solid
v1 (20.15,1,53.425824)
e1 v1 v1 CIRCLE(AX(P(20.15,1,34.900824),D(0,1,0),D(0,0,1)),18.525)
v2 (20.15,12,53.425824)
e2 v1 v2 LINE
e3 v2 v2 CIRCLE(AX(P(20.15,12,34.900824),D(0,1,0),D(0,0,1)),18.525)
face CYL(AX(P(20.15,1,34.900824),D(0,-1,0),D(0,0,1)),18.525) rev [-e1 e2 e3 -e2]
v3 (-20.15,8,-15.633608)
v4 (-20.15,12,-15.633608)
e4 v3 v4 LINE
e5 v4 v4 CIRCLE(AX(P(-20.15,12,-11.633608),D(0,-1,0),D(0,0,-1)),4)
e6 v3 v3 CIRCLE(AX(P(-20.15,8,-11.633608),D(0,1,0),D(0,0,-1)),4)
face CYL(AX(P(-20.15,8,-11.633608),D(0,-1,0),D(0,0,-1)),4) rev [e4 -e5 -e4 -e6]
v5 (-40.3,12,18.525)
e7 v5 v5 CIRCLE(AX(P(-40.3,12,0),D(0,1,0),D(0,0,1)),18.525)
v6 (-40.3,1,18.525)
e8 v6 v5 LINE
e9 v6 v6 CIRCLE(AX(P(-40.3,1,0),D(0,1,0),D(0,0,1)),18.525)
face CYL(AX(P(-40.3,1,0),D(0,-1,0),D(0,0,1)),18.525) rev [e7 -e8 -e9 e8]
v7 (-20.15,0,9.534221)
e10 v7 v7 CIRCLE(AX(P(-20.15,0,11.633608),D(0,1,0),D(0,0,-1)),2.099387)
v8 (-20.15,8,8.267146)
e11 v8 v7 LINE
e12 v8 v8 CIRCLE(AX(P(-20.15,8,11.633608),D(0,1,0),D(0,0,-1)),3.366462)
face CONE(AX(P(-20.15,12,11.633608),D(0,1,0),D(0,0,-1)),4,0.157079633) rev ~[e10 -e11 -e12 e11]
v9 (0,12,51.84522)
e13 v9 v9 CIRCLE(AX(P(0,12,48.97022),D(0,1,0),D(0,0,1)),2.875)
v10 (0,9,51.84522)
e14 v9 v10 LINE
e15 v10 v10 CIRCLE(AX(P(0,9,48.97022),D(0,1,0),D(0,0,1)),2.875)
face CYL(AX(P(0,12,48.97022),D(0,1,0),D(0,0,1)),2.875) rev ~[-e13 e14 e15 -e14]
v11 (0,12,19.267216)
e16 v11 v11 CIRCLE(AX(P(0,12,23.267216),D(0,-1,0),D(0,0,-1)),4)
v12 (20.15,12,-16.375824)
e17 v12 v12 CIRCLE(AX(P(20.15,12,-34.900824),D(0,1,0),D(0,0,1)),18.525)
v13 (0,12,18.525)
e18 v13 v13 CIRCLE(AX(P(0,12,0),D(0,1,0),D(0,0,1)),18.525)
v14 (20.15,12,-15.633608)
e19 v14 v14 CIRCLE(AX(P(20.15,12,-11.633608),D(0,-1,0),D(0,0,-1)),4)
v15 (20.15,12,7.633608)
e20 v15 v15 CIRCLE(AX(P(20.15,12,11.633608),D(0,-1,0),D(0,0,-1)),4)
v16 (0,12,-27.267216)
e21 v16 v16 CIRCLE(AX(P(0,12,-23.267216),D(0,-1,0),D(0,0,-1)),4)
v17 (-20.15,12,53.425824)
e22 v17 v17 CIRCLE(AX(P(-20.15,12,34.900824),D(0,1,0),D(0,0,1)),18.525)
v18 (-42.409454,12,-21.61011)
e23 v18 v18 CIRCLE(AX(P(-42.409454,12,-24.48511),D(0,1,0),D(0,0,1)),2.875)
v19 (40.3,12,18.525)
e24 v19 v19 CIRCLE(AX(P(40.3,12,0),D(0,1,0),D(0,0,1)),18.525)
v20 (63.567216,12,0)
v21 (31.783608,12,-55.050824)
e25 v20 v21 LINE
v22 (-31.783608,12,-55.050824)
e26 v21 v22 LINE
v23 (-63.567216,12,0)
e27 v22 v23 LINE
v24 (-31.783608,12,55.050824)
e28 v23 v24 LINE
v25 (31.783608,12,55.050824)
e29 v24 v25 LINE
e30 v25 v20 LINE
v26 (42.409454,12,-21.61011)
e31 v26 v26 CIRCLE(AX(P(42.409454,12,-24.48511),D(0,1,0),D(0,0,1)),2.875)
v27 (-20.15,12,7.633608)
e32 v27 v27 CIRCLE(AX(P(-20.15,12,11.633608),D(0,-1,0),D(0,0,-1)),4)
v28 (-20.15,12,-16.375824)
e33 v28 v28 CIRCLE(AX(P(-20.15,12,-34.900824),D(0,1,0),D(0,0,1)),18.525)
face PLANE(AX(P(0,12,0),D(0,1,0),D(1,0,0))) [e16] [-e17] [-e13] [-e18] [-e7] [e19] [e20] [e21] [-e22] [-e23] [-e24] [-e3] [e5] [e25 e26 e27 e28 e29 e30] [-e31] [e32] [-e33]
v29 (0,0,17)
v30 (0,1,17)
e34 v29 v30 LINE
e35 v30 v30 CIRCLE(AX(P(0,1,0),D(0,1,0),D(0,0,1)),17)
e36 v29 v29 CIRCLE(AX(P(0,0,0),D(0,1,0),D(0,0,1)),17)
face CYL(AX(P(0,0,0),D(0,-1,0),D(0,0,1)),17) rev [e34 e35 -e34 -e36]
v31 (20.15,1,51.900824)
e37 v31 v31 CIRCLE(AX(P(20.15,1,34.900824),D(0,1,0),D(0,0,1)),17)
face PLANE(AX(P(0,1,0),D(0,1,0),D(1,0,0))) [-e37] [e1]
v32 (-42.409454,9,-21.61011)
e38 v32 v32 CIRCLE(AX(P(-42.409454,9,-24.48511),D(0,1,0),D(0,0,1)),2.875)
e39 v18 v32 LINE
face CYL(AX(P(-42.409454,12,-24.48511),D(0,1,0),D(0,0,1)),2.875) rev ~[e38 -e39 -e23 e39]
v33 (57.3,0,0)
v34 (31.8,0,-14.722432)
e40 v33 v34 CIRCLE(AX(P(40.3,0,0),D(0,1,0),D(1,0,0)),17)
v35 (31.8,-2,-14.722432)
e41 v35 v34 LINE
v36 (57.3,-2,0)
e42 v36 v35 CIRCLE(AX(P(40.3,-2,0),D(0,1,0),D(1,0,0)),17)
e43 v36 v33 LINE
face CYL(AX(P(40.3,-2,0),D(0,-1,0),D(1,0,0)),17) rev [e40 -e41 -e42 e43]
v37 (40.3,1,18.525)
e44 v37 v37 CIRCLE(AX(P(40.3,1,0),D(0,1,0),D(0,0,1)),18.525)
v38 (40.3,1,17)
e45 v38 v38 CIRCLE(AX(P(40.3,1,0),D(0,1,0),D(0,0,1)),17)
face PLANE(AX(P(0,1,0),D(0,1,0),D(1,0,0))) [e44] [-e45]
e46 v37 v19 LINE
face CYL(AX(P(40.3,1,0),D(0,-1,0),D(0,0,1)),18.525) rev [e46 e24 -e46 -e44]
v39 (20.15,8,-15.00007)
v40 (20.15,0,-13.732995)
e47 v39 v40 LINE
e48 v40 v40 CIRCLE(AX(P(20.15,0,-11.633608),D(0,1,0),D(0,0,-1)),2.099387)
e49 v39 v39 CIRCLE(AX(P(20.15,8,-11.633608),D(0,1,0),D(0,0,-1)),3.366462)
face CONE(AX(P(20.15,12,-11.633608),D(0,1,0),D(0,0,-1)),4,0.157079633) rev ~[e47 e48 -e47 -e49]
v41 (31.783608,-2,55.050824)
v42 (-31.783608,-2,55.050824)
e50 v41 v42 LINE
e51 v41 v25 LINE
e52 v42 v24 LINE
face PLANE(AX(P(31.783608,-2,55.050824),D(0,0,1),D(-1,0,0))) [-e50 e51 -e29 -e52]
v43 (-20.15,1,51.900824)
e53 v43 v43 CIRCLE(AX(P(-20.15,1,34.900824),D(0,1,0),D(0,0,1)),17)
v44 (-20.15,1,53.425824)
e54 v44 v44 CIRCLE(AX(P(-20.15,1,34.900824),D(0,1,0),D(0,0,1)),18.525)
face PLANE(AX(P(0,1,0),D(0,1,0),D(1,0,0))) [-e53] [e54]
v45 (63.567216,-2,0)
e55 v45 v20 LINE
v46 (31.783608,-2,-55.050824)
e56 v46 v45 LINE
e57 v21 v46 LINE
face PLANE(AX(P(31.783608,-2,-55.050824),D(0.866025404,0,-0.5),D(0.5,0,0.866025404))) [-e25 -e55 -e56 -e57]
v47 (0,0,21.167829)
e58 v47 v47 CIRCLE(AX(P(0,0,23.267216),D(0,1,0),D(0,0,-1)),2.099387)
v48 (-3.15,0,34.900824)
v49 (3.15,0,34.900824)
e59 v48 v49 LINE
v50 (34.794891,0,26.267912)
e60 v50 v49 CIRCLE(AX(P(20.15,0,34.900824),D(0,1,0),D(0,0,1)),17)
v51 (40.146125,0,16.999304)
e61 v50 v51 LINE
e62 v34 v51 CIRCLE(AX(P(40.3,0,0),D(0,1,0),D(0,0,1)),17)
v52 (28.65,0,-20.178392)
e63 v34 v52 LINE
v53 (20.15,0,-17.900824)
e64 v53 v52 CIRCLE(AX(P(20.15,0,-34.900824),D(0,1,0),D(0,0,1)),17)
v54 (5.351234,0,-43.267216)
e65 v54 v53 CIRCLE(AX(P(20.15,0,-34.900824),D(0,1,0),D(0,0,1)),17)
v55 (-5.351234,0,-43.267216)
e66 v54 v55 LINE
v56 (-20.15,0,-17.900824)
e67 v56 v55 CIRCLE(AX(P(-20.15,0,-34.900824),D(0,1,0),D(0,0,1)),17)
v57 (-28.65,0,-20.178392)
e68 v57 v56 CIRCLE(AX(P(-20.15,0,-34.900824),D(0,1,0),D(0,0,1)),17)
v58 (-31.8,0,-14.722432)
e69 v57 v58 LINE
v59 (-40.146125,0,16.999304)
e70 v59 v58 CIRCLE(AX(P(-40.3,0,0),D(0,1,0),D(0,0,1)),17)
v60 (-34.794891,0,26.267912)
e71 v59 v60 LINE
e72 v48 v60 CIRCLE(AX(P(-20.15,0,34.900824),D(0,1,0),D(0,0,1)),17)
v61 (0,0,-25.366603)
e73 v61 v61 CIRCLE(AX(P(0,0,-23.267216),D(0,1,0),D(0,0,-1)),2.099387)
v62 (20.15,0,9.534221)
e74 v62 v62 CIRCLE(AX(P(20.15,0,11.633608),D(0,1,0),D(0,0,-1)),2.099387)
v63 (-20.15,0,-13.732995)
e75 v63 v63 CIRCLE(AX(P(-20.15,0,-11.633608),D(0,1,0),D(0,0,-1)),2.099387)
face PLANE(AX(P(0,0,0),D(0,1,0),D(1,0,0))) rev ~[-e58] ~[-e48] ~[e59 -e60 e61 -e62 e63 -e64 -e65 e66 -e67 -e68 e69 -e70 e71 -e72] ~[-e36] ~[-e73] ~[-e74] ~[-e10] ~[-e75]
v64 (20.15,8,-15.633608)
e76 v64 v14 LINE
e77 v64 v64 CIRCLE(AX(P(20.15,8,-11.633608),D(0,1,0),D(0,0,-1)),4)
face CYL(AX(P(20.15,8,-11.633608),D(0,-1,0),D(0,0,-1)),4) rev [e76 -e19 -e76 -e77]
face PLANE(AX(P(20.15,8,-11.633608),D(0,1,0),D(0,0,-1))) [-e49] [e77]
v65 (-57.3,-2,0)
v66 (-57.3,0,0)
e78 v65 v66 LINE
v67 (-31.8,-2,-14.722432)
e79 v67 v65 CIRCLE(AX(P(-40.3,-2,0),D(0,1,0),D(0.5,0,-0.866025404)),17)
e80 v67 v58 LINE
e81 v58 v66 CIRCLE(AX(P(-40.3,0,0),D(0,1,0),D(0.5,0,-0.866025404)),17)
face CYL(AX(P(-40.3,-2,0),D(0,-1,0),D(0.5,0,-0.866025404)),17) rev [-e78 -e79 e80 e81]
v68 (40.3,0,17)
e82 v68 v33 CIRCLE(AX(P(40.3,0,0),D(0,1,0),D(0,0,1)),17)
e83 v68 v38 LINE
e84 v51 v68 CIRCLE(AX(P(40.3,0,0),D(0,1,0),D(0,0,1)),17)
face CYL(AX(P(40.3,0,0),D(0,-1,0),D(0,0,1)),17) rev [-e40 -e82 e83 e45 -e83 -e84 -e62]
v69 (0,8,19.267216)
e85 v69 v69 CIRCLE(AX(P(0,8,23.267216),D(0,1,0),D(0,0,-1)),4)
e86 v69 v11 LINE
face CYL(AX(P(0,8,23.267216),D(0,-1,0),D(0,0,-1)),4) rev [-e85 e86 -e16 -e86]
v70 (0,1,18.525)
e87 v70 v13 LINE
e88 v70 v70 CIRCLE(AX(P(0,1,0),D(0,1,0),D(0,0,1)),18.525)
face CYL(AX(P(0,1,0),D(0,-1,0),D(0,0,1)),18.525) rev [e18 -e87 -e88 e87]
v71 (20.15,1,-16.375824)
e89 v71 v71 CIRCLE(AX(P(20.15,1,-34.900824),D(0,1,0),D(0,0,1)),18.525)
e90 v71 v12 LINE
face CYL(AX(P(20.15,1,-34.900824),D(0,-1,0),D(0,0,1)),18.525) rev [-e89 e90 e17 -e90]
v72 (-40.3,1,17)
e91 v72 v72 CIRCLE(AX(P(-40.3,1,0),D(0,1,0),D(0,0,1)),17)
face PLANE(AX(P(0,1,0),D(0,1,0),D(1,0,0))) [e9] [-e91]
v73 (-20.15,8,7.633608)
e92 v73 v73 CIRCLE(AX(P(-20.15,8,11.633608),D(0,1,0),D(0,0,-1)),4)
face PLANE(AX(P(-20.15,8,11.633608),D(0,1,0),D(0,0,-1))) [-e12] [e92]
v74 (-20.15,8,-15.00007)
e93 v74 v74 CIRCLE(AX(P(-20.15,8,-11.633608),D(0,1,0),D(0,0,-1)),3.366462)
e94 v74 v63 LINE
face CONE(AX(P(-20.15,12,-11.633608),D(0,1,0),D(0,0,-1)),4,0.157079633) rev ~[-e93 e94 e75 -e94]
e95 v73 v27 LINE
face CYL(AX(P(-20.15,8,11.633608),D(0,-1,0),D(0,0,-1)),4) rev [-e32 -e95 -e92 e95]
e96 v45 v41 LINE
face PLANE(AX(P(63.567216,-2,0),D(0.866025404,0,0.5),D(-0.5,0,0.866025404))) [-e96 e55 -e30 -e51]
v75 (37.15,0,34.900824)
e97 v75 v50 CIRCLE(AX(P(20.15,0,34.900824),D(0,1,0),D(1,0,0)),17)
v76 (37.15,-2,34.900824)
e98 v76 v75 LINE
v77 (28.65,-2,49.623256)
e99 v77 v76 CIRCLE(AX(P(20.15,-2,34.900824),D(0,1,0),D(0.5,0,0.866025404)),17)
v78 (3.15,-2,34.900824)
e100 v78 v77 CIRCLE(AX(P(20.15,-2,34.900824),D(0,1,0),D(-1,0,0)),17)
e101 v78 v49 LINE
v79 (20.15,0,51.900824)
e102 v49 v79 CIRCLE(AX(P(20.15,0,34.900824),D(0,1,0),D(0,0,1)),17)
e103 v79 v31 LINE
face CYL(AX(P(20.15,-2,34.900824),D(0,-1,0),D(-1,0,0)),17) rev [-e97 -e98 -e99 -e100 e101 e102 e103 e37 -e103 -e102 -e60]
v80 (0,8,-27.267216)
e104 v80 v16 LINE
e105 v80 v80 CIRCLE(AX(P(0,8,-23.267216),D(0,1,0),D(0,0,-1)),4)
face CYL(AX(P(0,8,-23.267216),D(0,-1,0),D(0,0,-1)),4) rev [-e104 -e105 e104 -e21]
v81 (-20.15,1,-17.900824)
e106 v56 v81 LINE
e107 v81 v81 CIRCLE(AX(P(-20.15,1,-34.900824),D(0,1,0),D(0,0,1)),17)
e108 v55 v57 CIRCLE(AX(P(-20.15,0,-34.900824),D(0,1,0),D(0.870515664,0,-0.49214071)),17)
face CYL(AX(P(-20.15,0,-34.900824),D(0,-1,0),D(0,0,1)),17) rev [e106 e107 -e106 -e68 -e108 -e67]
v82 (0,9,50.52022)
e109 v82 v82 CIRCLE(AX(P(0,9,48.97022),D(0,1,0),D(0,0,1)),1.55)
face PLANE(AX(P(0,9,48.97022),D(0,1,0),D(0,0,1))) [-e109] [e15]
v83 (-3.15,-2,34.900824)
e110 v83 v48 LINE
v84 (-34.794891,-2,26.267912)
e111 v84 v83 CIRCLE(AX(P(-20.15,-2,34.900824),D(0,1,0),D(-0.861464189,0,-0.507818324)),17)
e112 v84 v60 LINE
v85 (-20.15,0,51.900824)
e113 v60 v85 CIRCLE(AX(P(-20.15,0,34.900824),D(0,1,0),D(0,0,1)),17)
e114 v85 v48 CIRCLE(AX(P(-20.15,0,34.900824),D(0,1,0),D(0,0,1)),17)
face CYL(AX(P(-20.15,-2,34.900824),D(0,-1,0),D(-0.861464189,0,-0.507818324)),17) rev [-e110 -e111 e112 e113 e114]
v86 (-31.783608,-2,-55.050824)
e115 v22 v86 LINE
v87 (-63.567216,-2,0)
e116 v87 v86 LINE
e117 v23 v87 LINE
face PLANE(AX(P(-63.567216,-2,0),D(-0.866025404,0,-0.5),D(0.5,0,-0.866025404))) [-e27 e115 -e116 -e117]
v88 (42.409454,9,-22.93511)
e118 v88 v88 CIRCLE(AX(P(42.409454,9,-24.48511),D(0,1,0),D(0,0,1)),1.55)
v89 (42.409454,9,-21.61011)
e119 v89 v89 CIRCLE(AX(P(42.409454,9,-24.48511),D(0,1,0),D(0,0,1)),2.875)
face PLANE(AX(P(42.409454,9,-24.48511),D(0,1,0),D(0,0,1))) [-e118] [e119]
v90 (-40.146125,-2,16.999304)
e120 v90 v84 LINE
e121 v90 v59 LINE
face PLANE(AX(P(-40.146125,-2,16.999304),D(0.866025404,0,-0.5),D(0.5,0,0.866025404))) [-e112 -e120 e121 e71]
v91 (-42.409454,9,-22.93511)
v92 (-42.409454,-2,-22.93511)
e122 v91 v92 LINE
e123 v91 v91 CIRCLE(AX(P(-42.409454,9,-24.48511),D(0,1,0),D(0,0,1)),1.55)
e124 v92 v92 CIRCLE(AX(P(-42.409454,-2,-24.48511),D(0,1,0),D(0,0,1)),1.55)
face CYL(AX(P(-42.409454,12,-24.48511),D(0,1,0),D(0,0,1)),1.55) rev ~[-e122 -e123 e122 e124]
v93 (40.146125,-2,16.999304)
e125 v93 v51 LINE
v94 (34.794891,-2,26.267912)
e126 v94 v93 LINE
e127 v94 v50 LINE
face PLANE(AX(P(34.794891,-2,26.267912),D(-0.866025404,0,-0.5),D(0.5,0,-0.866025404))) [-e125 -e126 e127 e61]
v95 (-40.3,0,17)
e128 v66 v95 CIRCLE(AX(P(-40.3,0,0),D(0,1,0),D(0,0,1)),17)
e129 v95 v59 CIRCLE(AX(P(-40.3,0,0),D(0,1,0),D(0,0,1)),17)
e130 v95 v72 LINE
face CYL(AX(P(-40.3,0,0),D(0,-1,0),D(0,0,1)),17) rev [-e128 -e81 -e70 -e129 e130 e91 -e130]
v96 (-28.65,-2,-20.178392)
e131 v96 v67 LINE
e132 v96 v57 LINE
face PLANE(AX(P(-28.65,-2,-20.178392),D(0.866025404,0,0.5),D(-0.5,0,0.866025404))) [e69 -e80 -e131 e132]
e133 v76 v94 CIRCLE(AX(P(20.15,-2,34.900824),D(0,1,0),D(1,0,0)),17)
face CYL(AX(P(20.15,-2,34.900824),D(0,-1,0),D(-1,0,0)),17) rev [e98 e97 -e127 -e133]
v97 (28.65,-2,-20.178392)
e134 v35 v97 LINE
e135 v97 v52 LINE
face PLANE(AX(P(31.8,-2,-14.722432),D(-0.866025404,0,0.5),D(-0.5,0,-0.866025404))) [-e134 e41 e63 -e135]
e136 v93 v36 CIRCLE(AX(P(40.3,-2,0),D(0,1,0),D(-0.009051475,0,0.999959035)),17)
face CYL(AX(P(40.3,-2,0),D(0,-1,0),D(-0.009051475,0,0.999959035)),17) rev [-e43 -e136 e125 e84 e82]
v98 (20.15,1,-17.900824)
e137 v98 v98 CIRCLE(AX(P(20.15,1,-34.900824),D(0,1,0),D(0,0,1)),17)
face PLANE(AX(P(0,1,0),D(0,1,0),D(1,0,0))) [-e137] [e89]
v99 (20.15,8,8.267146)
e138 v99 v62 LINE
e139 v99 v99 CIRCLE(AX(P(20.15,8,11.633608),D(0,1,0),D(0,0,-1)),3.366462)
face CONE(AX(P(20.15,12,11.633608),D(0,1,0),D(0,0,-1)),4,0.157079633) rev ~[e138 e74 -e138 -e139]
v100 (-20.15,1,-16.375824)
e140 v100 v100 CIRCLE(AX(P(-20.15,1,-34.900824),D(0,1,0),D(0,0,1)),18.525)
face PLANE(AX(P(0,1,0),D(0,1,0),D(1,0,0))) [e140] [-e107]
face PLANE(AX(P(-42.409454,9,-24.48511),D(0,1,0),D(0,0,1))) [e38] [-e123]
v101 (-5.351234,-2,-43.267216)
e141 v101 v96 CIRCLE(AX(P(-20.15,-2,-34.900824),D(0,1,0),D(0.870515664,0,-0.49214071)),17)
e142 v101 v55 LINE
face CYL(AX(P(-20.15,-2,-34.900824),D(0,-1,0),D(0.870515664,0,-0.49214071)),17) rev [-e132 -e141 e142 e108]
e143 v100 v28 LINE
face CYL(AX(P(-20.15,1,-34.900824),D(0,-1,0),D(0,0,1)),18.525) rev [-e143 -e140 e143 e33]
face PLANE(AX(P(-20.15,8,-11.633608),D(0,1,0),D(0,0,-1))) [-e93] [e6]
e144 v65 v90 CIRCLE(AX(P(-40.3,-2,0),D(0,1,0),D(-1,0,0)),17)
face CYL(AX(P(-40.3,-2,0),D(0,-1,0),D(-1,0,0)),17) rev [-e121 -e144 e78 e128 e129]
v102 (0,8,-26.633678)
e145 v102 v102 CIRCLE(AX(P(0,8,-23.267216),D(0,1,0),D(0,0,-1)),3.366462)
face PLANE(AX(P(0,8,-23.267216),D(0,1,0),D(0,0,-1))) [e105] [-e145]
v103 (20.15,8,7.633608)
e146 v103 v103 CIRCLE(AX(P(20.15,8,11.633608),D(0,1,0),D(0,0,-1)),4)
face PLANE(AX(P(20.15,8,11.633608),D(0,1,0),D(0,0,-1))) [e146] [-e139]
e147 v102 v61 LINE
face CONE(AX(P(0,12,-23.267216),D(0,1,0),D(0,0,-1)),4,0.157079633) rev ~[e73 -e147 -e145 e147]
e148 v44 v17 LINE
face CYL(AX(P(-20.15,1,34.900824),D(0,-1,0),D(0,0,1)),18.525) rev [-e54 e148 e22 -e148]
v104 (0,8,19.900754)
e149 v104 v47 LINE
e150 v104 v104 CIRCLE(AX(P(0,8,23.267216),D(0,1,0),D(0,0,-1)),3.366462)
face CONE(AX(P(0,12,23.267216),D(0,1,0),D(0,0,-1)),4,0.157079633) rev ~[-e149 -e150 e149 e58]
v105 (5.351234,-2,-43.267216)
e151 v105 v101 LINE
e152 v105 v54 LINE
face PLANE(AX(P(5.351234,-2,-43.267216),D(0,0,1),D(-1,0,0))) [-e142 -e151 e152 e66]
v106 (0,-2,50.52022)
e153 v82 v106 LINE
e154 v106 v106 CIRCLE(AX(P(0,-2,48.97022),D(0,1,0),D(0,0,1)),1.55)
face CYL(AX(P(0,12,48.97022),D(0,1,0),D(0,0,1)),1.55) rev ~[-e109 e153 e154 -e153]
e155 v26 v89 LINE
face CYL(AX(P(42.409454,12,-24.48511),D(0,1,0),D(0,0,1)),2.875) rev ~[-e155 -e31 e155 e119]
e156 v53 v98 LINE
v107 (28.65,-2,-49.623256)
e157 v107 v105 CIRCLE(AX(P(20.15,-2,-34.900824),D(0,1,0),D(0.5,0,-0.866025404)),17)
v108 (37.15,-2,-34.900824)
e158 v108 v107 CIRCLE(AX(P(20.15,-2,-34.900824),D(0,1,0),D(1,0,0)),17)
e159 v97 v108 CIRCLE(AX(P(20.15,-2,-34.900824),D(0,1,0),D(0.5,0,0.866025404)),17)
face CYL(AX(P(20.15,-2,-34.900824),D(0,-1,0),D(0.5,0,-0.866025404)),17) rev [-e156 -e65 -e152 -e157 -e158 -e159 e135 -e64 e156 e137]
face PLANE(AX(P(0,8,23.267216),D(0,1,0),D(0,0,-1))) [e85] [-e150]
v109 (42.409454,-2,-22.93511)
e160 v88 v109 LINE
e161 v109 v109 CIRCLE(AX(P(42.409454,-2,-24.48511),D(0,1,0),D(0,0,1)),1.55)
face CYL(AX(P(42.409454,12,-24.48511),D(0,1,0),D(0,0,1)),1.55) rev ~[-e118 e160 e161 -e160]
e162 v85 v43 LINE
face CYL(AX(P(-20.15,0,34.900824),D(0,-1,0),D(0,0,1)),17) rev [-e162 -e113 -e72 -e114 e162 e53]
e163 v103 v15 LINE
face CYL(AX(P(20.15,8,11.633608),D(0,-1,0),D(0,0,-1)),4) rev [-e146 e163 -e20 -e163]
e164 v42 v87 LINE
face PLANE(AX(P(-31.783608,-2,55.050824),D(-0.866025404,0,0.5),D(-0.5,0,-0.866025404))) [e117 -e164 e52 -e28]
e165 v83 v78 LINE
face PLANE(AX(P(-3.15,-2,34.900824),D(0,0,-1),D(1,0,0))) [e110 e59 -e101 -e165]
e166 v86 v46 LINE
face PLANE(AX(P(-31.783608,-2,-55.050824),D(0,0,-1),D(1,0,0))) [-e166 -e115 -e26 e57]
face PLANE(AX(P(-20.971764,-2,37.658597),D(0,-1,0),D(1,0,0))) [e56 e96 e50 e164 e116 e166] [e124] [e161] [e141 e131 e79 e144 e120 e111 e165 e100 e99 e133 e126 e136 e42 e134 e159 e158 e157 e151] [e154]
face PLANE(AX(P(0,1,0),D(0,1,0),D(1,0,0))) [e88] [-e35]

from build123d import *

# Parameters (mm, degrees)
SKETCH1_R                    = 17
BOSS_EXTRUDE1_DEPTH          = 1
SKETCH2_R                    = 18.525
BOSS_EXTRUDE2_DEPTH          = 11
CUT_EXTRUDE1_DEPTH           = 85.943417218
CUT_EXTRUDE1_DEPTH_BACK      = 4
SKETCH3_R                    = 4
SKETCH3_2_R                  = 4
CUT_EXTRUDE2_DEPTH           = 85.943417218
CUT_EXTRUDE2_DRAFT           = -9
CUT_EXTRUDE2_PROFILE_2_DEPTH = 85.943417218
CUT_EXTRUDE2_PROFILE_2_DRAFT = -9
CUT_EXTRUDE2_PROFILE_3_DEPTH = 85.943417218
CUT_EXTRUDE2_PROFILE_3_DRAFT = -9
CUT_EXTRUDE2_PROFILE_4_DEPTH = 85.943417218
CUT_EXTRUDE2_PROFILE_4_DRAFT = -9
CUT_EXTRUDE2_PROFILE_5_DEPTH = 85.943417218
CUT_EXTRUDE2_PROFILE_5_DRAFT = -9
CUT_EXTRUDE2_PROFILE_6_DEPTH = 85.943417218
CUT_EXTRUDE2_PROFILE_6_DRAFT = -9
BOSS_EXTRUDE3_START          = 2
BOSS_EXTRUDE3_DEPTH          = 2
SKETCH7_R                    = 1.55
CUT_EXTRUDE4_DEPTH           = 86.248953828
SKETCH7_3_R                  = 2.875
SKETCH7_3_R_2                = 1.55
CUT_EXTRUDE5_DEPTH           = 3


with BuildPart() as part:
    # Sketch1 → Boss-Extrude1 (new body)
    with BuildSketch(Plane(origin=(0, 0, 0), x_dir=(1, 0, 0), z_dir=(0, 1, 0))):
        Polygon((-31.783607924, -55.050823773), (31.783607924, -55.050823773), (63.567215848, 0), (31.783607924, 55.050823773), (-31.783607924, 55.050823773), (-63.567215848, 0), align=None)
        with Locations(Location((-40.3, 0, 0), (0, 0, 270))):
            Circle(SKETCH1_R, mode=Mode.SUBTRACT)
        with Locations(Location((-20.15, -34.900823773, 0), (0, 0, 270))):
            Circle(SKETCH1_R, mode=Mode.SUBTRACT)
        with Locations(Location((20.15, -34.900823773, 0), (0, 0, 270))):
            Circle(SKETCH1_R, mode=Mode.SUBTRACT)
        with Locations(Location((40.3, 0, 0), (0, 0, 270))):
            Circle(SKETCH1_R, mode=Mode.SUBTRACT)
        with Locations(Location((20.15, 34.900823773, 0), (0, 0, 270))):
            Circle(SKETCH1_R, mode=Mode.SUBTRACT)
        with Locations(Location((-20.15, 34.900823773, 0), (0, 0, 270))):
            Circle(SKETCH1_R, mode=Mode.SUBTRACT)
        with Locations(Location((0, 0, 0), (0, 0, 270))):
            Circle(SKETCH1_R, mode=Mode.SUBTRACT)
    extrude(amount=BOSS_EXTRUDE1_DEPTH)

    # Sketch2 → Boss-Extrude2 (add)
    with BuildSketch(Plane(origin=(0, 1, 0), x_dir=(1, 0, 0), z_dir=(0, 1, 0))):
        Polygon((63.567215848, 0), (31.783607924, 55.050823773), (-31.783607924, 55.050823773), (-63.567215848, 0), (-31.783607924, -55.050823773), (31.783607924, -55.050823773), align=None)
        with Locations(Location((-40.3, 0, 0), (0, 0, 270))):
            Circle(SKETCH2_R, mode=Mode.SUBTRACT)
        with Locations(Location((-20.15, 34.900823773, 0), (0, 0, 270))):
            Circle(SKETCH2_R, mode=Mode.SUBTRACT)
        with Locations(Location((20.15, 34.900823773, 0), (0, 0, 270))):
            Circle(SKETCH2_R, mode=Mode.SUBTRACT)
        with Locations(Location((0, 0, 0), (0, 0, 270))):
            Circle(SKETCH2_R, mode=Mode.SUBTRACT)
        with Locations(Location((40.3, 0, 0), (0, 0, 270))):
            Circle(SKETCH2_R, mode=Mode.SUBTRACT)
        with Locations(Location((20.15, -34.900823773, 0), (0, 0, 270))):
            Circle(SKETCH2_R, mode=Mode.SUBTRACT)
        with Locations(Location((-20.15, -34.900823773, 0), (0, 0, 270))):
            Circle(SKETCH2_R, mode=Mode.SUBTRACT)
    extrude(amount=BOSS_EXTRUDE2_DEPTH)

    # Sketch3 → Cut-Extrude1 (cut, two sides: drawn at the far end of the back side and taken through both)
    with BuildSketch(Plane(origin=(0, 12, 0), x_dir=(1, 0, 0), z_dir=(0, 1, 0)).offset(-CUT_EXTRUDE1_DEPTH_BACK)):
        with Locations(Location((-20.15, 11.633607924, 0), (0, 0, 90))):
            Circle(SKETCH3_R)
        with Locations(Location((20.15, 11.633607924, 0), (0, 0, 90))):
            Circle(SKETCH3_R)
        with Locations(Location((0, -23.267215848, 0), (0, 0, 90))):
            Circle(SKETCH3_R)
        with Locations(Location((-20.15, -11.633607924, 0), (0, 0, 90))):
            Circle(SKETCH3_R)
        with Locations(Location((20.15, -11.633607924, 0), (0, 0, 90))):
            Circle(SKETCH3_R)
        with Locations(Location((0, 23.267215848, 0), (0, 0, 90))):
            Circle(SKETCH3_R)
    extrude(amount=CUT_EXTRUDE1_DEPTH + CUT_EXTRUDE1_DEPTH_BACK, mode=Mode.SUBTRACT)


with BuildPart() as cut_extrude2_tool:
    # Sketch3<2> → Cut-Extrude2 (with draft: the straight prism first)
    with BuildSketch(Plane(origin=(0, 12, 0), x_dir=(1, 0, 0), z_dir=(0, 1, 0))):
        with Locations(Location((-20.15, 11.633607924, 0), (0, 0, 90))):
            Circle(SKETCH3_2_R)
    extrude(amount=-CUT_EXTRUDE2_DEPTH)
    # Cut-Extrude2: the draft: its side faces are tilted about the plane it starts from
    cut_extrude2_sides = [cut_extrude2_tool.faces().sort_by_distance(p)[0] for p in [
        (-20.15, -30.971708609, -7.633607924),
    ]]
    draft(cut_extrude2_sides, Plane(origin=(0, 12, 0), x_dir=(1, 0, 0), z_dir=(0, 1, 0)), CUT_EXTRUDE2_DRAFT)


with BuildPart() as part_1:
    add(part.part)

    # Cut-Extrude2: cut by cut_extrude2_tool
    add(cut_extrude2_tool.part, mode=Mode.SUBTRACT)


with BuildPart() as cut_extrude2_profile_2_tool:
    # Sketch3<2> → Cut-Extrude2 profile 2 (with draft: the straight prism first)
    with BuildSketch(Plane(origin=(0, 12, 0), x_dir=(1, 0, 0), z_dir=(0, 1, 0))):
        with Locations(Location((20.15, 11.633607924, 0), (0, 0, 90))):
            Circle(SKETCH3_2_R)
    extrude(amount=-CUT_EXTRUDE2_PROFILE_2_DEPTH)
    # Cut-Extrude2 profile 2: the draft: its side faces are tilted about the plane it starts from
    cut_extrude2_profile_2_sides = [cut_extrude2_profile_2_tool.faces().sort_by_distance(p)[0] for p in [
        (20.15, -30.971708609, -7.633607924),
    ]]
    draft(cut_extrude2_profile_2_sides, Plane(origin=(0, 12, 0), x_dir=(1, 0, 0), z_dir=(0, 1, 0)), CUT_EXTRUDE2_PROFILE_2_DRAFT)


with BuildPart() as part_2:
    add(part_1.part)

    # Cut-Extrude2 profile 2: cut by cut_extrude2_profile_2_tool
    add(cut_extrude2_profile_2_tool.part, mode=Mode.SUBTRACT)


with BuildPart() as cut_extrude2_profile_3_tool:
    # Sketch3<2> → Cut-Extrude2 profile 3 (with draft: the straight prism first)
    with BuildSketch(Plane(origin=(0, 12, 0), x_dir=(1, 0, 0), z_dir=(0, 1, 0))):
        with Locations(Location((0, -23.267215848, 0), (0, 0, 90))):
            Circle(SKETCH3_2_R)
    extrude(amount=-CUT_EXTRUDE2_PROFILE_3_DEPTH)
    # Cut-Extrude2 profile 3: the draft: its side faces are tilted about the plane it starts from
    cut_extrude2_profile_3_sides = [cut_extrude2_profile_3_tool.faces().sort_by_distance(p)[0] for p in [
        (0, -30.971708609, 27.267215848),
    ]]
    draft(cut_extrude2_profile_3_sides, Plane(origin=(0, 12, 0), x_dir=(1, 0, 0), z_dir=(0, 1, 0)), CUT_EXTRUDE2_PROFILE_3_DRAFT)


with BuildPart() as part_3:
    add(part_2.part)

    # Cut-Extrude2 profile 3: cut by cut_extrude2_profile_3_tool
    add(cut_extrude2_profile_3_tool.part, mode=Mode.SUBTRACT)


with BuildPart() as cut_extrude2_profile_4_tool:
    # Sketch3<2> → Cut-Extrude2 profile 4 (with draft: the straight prism first)
    with BuildSketch(Plane(origin=(0, 12, 0), x_dir=(1, 0, 0), z_dir=(0, 1, 0))):
        with Locations(Location((-20.15, -11.633607924, 0), (0, 0, 90))):
            Circle(SKETCH3_2_R)
    extrude(amount=-CUT_EXTRUDE2_PROFILE_4_DEPTH)
    # Cut-Extrude2 profile 4: the draft: its side faces are tilted about the plane it starts from
    cut_extrude2_profile_4_sides = [cut_extrude2_profile_4_tool.faces().sort_by_distance(p)[0] for p in [
        (-20.15, -30.971708609, 15.633607924),
    ]]
    draft(cut_extrude2_profile_4_sides, Plane(origin=(0, 12, 0), x_dir=(1, 0, 0), z_dir=(0, 1, 0)), CUT_EXTRUDE2_PROFILE_4_DRAFT)


with BuildPart() as part_4:
    add(part_3.part)

    # Cut-Extrude2 profile 4: cut by cut_extrude2_profile_4_tool
    add(cut_extrude2_profile_4_tool.part, mode=Mode.SUBTRACT)


with BuildPart() as cut_extrude2_profile_5_tool:
    # Sketch3<2> → Cut-Extrude2 profile 5 (with draft: the straight prism first)
    with BuildSketch(Plane(origin=(0, 12, 0), x_dir=(1, 0, 0), z_dir=(0, 1, 0))):
        with Locations(Location((20.15, -11.633607924, 0), (0, 0, 90))):
            Circle(SKETCH3_2_R)
    extrude(amount=-CUT_EXTRUDE2_PROFILE_5_DEPTH)
    # Cut-Extrude2 profile 5: the draft: its side faces are tilted about the plane it starts from
    cut_extrude2_profile_5_sides = [cut_extrude2_profile_5_tool.faces().sort_by_distance(p)[0] for p in [
        (20.15, -30.971708609, 15.633607924),
    ]]
    draft(cut_extrude2_profile_5_sides, Plane(origin=(0, 12, 0), x_dir=(1, 0, 0), z_dir=(0, 1, 0)), CUT_EXTRUDE2_PROFILE_5_DRAFT)


with BuildPart() as part_5:
    add(part_4.part)

    # Cut-Extrude2 profile 5: cut by cut_extrude2_profile_5_tool
    add(cut_extrude2_profile_5_tool.part, mode=Mode.SUBTRACT)


with BuildPart() as cut_extrude2_profile_6_tool:
    # Sketch3<2> → Cut-Extrude2 profile 6 (with draft: the straight prism first)
    with BuildSketch(Plane(origin=(0, 12, 0), x_dir=(1, 0, 0), z_dir=(0, 1, 0))):
        with Locations(Location((0, 23.267215848, 0), (0, 0, 90))):
            Circle(SKETCH3_2_R)
    extrude(amount=-CUT_EXTRUDE2_PROFILE_6_DEPTH)
    # Cut-Extrude2 profile 6: the draft: its side faces are tilted about the plane it starts from
    cut_extrude2_profile_6_sides = [cut_extrude2_profile_6_tool.faces().sort_by_distance(p)[0] for p in [
        (0, -30.971708609, -19.267215848),
    ]]
    draft(cut_extrude2_profile_6_sides, Plane(origin=(0, 12, 0), x_dir=(1, 0, 0), z_dir=(0, 1, 0)), CUT_EXTRUDE2_PROFILE_6_DRAFT)


with BuildPart() as part_6:
    add(part_5.part)

    # Cut-Extrude2 profile 6: cut by cut_extrude2_profile_6_tool
    add(cut_extrude2_profile_6_tool.part, mode=Mode.SUBTRACT)

    # Sketch5 → Boss-Extrude3 (add)
    with BuildSketch(Plane.XZ.offset(BOSS_EXTRUDE3_START)):
        with BuildLine():
            Line((-31.783607924, 55.050823773), (-63.567215848, 0))
            Line((-63.567215848, 0), (-57.3, 0))
            ThreePointArc((-57.3, 0), (-52.266288561, 12.075095779), (-40.146124932, 16.999303588))
            Line((-40.146124932, 16.999303588), (-34.794891219, 26.267912261))
            ThreePointArc((-34.794891219, 26.267912261), (-24.624195418, 51.301481545), (-3.15, 34.900823773))
            Line((-3.15, 34.900823773), (3.15, 34.900823773))
            ThreePointArc((3.15, 34.900823773), (11.65, 49.623255637), (28.65, 49.623255637))
            Line((28.65, 49.623255637), (31.783607924, 55.050823773))
            Line((31.783607924, 55.050823773), (-31.783607924, 55.050823773))
        make_face()
        with BuildLine():
            Line((-57.3, 0), (-63.567215848, 0))
            Line((-63.567215848, 0), (-31.783607924, -55.050823773))
            Line((-31.783607924, -55.050823773), (31.783607924, -55.050823773))
            Line((31.783607924, -55.050823773), (28.65, -49.623255637))
            ThreePointArc((28.65, -49.623255637), (15.675804582, -51.301481545), (5.351233712, -43.267215848))
            Line((5.351233712, -43.267215848), (-5.351233712, -43.267215848))
            ThreePointArc((-5.351233712, -43.267215848), (-32.116288561, -46.975919552), (-28.65, -20.178391908))
            Line((-28.65, -20.178391908), (-31.8, -14.722431864))
            ThreePointArc((-31.8, -14.722431864), (-48.8, -14.722431864), (-57.3, 0))
        make_face()
        with BuildLine():
            Line((28.65, -49.623255637), (31.783607924, -55.050823773))
            Line((31.783607924, -55.050823773), (63.567215848, 0))
            Line((63.567215848, 0), (31.783607924, 55.050823773))
            Line((31.783607924, 55.050823773), (28.65, 49.623255637))
            ThreePointArc((28.65, 49.623255637), (34.872431864, 43.400823773), (37.15, 34.900823773))
            ThreePointArc((37.15, 34.900823773), (36.550657772, 30.426628355), (34.794891219, 26.267912261))
            Line((34.794891219, 26.267912261), (40.146124932, 16.999303588))
            ThreePointArc((40.146124932, 16.999303588), (52.266288561, 12.075095779), (57.3, 0))
            ThreePointArc((57.3, 0), (48.8, -14.722431864), (31.8, -14.722431864))
            Line((31.8, -14.722431864), (28.65, -20.178391908))
            ThreePointArc((28.65, -20.178391908), (34.872431864, -26.400823773), (37.15, -34.900823773))
            ThreePointArc((37.15, -34.900823773), (34.872431864, -43.400823773), (28.65, -49.623255637))
        make_face()
    extrude(amount=-BOSS_EXTRUDE3_DEPTH)

    # Sketch7 → Cut-Extrude4 (cut, through all)
    with BuildSketch(Plane(origin=(0, 12, 0), x_dir=(1, 0, 0), z_dir=(0, 1, 0))):
        with Locations(Location((-42.409454211, 24.485109805, 0), (0, 0, 270))):
            Circle(SKETCH7_R)
        with Locations(Location((42.409454211, 24.485109805, 0), (0, 0, 270))):
            Circle(SKETCH7_R)
        with Locations(Location((0, -48.97021961, 0), (0, 0, 270))):
            Circle(SKETCH7_R)
    extrude(amount=-CUT_EXTRUDE4_DEPTH, mode=Mode.SUBTRACT)

    # Sketch7<3> → Cut-Extrude5 (cut)
    # profile 1 of 3: a face of its own
    with BuildSketch(Plane(origin=(0, 12, 0), x_dir=(1, 0, 0), z_dir=(0, 1, 0))):
        with Locations(Location((-42.409454211, 24.485109805, 0), (0, 0, 270))):
            Circle(SKETCH7_3_R)
        with Locations(Location((-42.409454211, 24.485109805, 0), (0, 0, 270))):
            Circle(SKETCH7_3_R_2, mode=Mode.SUBTRACT)
    # profile 2 of 3: a face of its own
    with BuildSketch(Plane(origin=(0, 12, 0), x_dir=(1, 0, 0), z_dir=(0, 1, 0))):
        with Locations(Location((42.409454211, 24.485109805, 0), (0, 0, 270))):
            Circle(SKETCH7_3_R)
    # profile 3 of 3: a face of its own
    with BuildSketch(Plane(origin=(0, 12, 0), x_dir=(1, 0, 0), z_dir=(0, 1, 0))):
        with Locations(Location((0, -48.97021961, 0), (0, 0, 270))):
            Circle(SKETCH7_3_R)
    extrude(amount=-CUT_EXTRUDE5_DEPTH, mode=Mode.SUBTRACT)


solid = part_6.part
